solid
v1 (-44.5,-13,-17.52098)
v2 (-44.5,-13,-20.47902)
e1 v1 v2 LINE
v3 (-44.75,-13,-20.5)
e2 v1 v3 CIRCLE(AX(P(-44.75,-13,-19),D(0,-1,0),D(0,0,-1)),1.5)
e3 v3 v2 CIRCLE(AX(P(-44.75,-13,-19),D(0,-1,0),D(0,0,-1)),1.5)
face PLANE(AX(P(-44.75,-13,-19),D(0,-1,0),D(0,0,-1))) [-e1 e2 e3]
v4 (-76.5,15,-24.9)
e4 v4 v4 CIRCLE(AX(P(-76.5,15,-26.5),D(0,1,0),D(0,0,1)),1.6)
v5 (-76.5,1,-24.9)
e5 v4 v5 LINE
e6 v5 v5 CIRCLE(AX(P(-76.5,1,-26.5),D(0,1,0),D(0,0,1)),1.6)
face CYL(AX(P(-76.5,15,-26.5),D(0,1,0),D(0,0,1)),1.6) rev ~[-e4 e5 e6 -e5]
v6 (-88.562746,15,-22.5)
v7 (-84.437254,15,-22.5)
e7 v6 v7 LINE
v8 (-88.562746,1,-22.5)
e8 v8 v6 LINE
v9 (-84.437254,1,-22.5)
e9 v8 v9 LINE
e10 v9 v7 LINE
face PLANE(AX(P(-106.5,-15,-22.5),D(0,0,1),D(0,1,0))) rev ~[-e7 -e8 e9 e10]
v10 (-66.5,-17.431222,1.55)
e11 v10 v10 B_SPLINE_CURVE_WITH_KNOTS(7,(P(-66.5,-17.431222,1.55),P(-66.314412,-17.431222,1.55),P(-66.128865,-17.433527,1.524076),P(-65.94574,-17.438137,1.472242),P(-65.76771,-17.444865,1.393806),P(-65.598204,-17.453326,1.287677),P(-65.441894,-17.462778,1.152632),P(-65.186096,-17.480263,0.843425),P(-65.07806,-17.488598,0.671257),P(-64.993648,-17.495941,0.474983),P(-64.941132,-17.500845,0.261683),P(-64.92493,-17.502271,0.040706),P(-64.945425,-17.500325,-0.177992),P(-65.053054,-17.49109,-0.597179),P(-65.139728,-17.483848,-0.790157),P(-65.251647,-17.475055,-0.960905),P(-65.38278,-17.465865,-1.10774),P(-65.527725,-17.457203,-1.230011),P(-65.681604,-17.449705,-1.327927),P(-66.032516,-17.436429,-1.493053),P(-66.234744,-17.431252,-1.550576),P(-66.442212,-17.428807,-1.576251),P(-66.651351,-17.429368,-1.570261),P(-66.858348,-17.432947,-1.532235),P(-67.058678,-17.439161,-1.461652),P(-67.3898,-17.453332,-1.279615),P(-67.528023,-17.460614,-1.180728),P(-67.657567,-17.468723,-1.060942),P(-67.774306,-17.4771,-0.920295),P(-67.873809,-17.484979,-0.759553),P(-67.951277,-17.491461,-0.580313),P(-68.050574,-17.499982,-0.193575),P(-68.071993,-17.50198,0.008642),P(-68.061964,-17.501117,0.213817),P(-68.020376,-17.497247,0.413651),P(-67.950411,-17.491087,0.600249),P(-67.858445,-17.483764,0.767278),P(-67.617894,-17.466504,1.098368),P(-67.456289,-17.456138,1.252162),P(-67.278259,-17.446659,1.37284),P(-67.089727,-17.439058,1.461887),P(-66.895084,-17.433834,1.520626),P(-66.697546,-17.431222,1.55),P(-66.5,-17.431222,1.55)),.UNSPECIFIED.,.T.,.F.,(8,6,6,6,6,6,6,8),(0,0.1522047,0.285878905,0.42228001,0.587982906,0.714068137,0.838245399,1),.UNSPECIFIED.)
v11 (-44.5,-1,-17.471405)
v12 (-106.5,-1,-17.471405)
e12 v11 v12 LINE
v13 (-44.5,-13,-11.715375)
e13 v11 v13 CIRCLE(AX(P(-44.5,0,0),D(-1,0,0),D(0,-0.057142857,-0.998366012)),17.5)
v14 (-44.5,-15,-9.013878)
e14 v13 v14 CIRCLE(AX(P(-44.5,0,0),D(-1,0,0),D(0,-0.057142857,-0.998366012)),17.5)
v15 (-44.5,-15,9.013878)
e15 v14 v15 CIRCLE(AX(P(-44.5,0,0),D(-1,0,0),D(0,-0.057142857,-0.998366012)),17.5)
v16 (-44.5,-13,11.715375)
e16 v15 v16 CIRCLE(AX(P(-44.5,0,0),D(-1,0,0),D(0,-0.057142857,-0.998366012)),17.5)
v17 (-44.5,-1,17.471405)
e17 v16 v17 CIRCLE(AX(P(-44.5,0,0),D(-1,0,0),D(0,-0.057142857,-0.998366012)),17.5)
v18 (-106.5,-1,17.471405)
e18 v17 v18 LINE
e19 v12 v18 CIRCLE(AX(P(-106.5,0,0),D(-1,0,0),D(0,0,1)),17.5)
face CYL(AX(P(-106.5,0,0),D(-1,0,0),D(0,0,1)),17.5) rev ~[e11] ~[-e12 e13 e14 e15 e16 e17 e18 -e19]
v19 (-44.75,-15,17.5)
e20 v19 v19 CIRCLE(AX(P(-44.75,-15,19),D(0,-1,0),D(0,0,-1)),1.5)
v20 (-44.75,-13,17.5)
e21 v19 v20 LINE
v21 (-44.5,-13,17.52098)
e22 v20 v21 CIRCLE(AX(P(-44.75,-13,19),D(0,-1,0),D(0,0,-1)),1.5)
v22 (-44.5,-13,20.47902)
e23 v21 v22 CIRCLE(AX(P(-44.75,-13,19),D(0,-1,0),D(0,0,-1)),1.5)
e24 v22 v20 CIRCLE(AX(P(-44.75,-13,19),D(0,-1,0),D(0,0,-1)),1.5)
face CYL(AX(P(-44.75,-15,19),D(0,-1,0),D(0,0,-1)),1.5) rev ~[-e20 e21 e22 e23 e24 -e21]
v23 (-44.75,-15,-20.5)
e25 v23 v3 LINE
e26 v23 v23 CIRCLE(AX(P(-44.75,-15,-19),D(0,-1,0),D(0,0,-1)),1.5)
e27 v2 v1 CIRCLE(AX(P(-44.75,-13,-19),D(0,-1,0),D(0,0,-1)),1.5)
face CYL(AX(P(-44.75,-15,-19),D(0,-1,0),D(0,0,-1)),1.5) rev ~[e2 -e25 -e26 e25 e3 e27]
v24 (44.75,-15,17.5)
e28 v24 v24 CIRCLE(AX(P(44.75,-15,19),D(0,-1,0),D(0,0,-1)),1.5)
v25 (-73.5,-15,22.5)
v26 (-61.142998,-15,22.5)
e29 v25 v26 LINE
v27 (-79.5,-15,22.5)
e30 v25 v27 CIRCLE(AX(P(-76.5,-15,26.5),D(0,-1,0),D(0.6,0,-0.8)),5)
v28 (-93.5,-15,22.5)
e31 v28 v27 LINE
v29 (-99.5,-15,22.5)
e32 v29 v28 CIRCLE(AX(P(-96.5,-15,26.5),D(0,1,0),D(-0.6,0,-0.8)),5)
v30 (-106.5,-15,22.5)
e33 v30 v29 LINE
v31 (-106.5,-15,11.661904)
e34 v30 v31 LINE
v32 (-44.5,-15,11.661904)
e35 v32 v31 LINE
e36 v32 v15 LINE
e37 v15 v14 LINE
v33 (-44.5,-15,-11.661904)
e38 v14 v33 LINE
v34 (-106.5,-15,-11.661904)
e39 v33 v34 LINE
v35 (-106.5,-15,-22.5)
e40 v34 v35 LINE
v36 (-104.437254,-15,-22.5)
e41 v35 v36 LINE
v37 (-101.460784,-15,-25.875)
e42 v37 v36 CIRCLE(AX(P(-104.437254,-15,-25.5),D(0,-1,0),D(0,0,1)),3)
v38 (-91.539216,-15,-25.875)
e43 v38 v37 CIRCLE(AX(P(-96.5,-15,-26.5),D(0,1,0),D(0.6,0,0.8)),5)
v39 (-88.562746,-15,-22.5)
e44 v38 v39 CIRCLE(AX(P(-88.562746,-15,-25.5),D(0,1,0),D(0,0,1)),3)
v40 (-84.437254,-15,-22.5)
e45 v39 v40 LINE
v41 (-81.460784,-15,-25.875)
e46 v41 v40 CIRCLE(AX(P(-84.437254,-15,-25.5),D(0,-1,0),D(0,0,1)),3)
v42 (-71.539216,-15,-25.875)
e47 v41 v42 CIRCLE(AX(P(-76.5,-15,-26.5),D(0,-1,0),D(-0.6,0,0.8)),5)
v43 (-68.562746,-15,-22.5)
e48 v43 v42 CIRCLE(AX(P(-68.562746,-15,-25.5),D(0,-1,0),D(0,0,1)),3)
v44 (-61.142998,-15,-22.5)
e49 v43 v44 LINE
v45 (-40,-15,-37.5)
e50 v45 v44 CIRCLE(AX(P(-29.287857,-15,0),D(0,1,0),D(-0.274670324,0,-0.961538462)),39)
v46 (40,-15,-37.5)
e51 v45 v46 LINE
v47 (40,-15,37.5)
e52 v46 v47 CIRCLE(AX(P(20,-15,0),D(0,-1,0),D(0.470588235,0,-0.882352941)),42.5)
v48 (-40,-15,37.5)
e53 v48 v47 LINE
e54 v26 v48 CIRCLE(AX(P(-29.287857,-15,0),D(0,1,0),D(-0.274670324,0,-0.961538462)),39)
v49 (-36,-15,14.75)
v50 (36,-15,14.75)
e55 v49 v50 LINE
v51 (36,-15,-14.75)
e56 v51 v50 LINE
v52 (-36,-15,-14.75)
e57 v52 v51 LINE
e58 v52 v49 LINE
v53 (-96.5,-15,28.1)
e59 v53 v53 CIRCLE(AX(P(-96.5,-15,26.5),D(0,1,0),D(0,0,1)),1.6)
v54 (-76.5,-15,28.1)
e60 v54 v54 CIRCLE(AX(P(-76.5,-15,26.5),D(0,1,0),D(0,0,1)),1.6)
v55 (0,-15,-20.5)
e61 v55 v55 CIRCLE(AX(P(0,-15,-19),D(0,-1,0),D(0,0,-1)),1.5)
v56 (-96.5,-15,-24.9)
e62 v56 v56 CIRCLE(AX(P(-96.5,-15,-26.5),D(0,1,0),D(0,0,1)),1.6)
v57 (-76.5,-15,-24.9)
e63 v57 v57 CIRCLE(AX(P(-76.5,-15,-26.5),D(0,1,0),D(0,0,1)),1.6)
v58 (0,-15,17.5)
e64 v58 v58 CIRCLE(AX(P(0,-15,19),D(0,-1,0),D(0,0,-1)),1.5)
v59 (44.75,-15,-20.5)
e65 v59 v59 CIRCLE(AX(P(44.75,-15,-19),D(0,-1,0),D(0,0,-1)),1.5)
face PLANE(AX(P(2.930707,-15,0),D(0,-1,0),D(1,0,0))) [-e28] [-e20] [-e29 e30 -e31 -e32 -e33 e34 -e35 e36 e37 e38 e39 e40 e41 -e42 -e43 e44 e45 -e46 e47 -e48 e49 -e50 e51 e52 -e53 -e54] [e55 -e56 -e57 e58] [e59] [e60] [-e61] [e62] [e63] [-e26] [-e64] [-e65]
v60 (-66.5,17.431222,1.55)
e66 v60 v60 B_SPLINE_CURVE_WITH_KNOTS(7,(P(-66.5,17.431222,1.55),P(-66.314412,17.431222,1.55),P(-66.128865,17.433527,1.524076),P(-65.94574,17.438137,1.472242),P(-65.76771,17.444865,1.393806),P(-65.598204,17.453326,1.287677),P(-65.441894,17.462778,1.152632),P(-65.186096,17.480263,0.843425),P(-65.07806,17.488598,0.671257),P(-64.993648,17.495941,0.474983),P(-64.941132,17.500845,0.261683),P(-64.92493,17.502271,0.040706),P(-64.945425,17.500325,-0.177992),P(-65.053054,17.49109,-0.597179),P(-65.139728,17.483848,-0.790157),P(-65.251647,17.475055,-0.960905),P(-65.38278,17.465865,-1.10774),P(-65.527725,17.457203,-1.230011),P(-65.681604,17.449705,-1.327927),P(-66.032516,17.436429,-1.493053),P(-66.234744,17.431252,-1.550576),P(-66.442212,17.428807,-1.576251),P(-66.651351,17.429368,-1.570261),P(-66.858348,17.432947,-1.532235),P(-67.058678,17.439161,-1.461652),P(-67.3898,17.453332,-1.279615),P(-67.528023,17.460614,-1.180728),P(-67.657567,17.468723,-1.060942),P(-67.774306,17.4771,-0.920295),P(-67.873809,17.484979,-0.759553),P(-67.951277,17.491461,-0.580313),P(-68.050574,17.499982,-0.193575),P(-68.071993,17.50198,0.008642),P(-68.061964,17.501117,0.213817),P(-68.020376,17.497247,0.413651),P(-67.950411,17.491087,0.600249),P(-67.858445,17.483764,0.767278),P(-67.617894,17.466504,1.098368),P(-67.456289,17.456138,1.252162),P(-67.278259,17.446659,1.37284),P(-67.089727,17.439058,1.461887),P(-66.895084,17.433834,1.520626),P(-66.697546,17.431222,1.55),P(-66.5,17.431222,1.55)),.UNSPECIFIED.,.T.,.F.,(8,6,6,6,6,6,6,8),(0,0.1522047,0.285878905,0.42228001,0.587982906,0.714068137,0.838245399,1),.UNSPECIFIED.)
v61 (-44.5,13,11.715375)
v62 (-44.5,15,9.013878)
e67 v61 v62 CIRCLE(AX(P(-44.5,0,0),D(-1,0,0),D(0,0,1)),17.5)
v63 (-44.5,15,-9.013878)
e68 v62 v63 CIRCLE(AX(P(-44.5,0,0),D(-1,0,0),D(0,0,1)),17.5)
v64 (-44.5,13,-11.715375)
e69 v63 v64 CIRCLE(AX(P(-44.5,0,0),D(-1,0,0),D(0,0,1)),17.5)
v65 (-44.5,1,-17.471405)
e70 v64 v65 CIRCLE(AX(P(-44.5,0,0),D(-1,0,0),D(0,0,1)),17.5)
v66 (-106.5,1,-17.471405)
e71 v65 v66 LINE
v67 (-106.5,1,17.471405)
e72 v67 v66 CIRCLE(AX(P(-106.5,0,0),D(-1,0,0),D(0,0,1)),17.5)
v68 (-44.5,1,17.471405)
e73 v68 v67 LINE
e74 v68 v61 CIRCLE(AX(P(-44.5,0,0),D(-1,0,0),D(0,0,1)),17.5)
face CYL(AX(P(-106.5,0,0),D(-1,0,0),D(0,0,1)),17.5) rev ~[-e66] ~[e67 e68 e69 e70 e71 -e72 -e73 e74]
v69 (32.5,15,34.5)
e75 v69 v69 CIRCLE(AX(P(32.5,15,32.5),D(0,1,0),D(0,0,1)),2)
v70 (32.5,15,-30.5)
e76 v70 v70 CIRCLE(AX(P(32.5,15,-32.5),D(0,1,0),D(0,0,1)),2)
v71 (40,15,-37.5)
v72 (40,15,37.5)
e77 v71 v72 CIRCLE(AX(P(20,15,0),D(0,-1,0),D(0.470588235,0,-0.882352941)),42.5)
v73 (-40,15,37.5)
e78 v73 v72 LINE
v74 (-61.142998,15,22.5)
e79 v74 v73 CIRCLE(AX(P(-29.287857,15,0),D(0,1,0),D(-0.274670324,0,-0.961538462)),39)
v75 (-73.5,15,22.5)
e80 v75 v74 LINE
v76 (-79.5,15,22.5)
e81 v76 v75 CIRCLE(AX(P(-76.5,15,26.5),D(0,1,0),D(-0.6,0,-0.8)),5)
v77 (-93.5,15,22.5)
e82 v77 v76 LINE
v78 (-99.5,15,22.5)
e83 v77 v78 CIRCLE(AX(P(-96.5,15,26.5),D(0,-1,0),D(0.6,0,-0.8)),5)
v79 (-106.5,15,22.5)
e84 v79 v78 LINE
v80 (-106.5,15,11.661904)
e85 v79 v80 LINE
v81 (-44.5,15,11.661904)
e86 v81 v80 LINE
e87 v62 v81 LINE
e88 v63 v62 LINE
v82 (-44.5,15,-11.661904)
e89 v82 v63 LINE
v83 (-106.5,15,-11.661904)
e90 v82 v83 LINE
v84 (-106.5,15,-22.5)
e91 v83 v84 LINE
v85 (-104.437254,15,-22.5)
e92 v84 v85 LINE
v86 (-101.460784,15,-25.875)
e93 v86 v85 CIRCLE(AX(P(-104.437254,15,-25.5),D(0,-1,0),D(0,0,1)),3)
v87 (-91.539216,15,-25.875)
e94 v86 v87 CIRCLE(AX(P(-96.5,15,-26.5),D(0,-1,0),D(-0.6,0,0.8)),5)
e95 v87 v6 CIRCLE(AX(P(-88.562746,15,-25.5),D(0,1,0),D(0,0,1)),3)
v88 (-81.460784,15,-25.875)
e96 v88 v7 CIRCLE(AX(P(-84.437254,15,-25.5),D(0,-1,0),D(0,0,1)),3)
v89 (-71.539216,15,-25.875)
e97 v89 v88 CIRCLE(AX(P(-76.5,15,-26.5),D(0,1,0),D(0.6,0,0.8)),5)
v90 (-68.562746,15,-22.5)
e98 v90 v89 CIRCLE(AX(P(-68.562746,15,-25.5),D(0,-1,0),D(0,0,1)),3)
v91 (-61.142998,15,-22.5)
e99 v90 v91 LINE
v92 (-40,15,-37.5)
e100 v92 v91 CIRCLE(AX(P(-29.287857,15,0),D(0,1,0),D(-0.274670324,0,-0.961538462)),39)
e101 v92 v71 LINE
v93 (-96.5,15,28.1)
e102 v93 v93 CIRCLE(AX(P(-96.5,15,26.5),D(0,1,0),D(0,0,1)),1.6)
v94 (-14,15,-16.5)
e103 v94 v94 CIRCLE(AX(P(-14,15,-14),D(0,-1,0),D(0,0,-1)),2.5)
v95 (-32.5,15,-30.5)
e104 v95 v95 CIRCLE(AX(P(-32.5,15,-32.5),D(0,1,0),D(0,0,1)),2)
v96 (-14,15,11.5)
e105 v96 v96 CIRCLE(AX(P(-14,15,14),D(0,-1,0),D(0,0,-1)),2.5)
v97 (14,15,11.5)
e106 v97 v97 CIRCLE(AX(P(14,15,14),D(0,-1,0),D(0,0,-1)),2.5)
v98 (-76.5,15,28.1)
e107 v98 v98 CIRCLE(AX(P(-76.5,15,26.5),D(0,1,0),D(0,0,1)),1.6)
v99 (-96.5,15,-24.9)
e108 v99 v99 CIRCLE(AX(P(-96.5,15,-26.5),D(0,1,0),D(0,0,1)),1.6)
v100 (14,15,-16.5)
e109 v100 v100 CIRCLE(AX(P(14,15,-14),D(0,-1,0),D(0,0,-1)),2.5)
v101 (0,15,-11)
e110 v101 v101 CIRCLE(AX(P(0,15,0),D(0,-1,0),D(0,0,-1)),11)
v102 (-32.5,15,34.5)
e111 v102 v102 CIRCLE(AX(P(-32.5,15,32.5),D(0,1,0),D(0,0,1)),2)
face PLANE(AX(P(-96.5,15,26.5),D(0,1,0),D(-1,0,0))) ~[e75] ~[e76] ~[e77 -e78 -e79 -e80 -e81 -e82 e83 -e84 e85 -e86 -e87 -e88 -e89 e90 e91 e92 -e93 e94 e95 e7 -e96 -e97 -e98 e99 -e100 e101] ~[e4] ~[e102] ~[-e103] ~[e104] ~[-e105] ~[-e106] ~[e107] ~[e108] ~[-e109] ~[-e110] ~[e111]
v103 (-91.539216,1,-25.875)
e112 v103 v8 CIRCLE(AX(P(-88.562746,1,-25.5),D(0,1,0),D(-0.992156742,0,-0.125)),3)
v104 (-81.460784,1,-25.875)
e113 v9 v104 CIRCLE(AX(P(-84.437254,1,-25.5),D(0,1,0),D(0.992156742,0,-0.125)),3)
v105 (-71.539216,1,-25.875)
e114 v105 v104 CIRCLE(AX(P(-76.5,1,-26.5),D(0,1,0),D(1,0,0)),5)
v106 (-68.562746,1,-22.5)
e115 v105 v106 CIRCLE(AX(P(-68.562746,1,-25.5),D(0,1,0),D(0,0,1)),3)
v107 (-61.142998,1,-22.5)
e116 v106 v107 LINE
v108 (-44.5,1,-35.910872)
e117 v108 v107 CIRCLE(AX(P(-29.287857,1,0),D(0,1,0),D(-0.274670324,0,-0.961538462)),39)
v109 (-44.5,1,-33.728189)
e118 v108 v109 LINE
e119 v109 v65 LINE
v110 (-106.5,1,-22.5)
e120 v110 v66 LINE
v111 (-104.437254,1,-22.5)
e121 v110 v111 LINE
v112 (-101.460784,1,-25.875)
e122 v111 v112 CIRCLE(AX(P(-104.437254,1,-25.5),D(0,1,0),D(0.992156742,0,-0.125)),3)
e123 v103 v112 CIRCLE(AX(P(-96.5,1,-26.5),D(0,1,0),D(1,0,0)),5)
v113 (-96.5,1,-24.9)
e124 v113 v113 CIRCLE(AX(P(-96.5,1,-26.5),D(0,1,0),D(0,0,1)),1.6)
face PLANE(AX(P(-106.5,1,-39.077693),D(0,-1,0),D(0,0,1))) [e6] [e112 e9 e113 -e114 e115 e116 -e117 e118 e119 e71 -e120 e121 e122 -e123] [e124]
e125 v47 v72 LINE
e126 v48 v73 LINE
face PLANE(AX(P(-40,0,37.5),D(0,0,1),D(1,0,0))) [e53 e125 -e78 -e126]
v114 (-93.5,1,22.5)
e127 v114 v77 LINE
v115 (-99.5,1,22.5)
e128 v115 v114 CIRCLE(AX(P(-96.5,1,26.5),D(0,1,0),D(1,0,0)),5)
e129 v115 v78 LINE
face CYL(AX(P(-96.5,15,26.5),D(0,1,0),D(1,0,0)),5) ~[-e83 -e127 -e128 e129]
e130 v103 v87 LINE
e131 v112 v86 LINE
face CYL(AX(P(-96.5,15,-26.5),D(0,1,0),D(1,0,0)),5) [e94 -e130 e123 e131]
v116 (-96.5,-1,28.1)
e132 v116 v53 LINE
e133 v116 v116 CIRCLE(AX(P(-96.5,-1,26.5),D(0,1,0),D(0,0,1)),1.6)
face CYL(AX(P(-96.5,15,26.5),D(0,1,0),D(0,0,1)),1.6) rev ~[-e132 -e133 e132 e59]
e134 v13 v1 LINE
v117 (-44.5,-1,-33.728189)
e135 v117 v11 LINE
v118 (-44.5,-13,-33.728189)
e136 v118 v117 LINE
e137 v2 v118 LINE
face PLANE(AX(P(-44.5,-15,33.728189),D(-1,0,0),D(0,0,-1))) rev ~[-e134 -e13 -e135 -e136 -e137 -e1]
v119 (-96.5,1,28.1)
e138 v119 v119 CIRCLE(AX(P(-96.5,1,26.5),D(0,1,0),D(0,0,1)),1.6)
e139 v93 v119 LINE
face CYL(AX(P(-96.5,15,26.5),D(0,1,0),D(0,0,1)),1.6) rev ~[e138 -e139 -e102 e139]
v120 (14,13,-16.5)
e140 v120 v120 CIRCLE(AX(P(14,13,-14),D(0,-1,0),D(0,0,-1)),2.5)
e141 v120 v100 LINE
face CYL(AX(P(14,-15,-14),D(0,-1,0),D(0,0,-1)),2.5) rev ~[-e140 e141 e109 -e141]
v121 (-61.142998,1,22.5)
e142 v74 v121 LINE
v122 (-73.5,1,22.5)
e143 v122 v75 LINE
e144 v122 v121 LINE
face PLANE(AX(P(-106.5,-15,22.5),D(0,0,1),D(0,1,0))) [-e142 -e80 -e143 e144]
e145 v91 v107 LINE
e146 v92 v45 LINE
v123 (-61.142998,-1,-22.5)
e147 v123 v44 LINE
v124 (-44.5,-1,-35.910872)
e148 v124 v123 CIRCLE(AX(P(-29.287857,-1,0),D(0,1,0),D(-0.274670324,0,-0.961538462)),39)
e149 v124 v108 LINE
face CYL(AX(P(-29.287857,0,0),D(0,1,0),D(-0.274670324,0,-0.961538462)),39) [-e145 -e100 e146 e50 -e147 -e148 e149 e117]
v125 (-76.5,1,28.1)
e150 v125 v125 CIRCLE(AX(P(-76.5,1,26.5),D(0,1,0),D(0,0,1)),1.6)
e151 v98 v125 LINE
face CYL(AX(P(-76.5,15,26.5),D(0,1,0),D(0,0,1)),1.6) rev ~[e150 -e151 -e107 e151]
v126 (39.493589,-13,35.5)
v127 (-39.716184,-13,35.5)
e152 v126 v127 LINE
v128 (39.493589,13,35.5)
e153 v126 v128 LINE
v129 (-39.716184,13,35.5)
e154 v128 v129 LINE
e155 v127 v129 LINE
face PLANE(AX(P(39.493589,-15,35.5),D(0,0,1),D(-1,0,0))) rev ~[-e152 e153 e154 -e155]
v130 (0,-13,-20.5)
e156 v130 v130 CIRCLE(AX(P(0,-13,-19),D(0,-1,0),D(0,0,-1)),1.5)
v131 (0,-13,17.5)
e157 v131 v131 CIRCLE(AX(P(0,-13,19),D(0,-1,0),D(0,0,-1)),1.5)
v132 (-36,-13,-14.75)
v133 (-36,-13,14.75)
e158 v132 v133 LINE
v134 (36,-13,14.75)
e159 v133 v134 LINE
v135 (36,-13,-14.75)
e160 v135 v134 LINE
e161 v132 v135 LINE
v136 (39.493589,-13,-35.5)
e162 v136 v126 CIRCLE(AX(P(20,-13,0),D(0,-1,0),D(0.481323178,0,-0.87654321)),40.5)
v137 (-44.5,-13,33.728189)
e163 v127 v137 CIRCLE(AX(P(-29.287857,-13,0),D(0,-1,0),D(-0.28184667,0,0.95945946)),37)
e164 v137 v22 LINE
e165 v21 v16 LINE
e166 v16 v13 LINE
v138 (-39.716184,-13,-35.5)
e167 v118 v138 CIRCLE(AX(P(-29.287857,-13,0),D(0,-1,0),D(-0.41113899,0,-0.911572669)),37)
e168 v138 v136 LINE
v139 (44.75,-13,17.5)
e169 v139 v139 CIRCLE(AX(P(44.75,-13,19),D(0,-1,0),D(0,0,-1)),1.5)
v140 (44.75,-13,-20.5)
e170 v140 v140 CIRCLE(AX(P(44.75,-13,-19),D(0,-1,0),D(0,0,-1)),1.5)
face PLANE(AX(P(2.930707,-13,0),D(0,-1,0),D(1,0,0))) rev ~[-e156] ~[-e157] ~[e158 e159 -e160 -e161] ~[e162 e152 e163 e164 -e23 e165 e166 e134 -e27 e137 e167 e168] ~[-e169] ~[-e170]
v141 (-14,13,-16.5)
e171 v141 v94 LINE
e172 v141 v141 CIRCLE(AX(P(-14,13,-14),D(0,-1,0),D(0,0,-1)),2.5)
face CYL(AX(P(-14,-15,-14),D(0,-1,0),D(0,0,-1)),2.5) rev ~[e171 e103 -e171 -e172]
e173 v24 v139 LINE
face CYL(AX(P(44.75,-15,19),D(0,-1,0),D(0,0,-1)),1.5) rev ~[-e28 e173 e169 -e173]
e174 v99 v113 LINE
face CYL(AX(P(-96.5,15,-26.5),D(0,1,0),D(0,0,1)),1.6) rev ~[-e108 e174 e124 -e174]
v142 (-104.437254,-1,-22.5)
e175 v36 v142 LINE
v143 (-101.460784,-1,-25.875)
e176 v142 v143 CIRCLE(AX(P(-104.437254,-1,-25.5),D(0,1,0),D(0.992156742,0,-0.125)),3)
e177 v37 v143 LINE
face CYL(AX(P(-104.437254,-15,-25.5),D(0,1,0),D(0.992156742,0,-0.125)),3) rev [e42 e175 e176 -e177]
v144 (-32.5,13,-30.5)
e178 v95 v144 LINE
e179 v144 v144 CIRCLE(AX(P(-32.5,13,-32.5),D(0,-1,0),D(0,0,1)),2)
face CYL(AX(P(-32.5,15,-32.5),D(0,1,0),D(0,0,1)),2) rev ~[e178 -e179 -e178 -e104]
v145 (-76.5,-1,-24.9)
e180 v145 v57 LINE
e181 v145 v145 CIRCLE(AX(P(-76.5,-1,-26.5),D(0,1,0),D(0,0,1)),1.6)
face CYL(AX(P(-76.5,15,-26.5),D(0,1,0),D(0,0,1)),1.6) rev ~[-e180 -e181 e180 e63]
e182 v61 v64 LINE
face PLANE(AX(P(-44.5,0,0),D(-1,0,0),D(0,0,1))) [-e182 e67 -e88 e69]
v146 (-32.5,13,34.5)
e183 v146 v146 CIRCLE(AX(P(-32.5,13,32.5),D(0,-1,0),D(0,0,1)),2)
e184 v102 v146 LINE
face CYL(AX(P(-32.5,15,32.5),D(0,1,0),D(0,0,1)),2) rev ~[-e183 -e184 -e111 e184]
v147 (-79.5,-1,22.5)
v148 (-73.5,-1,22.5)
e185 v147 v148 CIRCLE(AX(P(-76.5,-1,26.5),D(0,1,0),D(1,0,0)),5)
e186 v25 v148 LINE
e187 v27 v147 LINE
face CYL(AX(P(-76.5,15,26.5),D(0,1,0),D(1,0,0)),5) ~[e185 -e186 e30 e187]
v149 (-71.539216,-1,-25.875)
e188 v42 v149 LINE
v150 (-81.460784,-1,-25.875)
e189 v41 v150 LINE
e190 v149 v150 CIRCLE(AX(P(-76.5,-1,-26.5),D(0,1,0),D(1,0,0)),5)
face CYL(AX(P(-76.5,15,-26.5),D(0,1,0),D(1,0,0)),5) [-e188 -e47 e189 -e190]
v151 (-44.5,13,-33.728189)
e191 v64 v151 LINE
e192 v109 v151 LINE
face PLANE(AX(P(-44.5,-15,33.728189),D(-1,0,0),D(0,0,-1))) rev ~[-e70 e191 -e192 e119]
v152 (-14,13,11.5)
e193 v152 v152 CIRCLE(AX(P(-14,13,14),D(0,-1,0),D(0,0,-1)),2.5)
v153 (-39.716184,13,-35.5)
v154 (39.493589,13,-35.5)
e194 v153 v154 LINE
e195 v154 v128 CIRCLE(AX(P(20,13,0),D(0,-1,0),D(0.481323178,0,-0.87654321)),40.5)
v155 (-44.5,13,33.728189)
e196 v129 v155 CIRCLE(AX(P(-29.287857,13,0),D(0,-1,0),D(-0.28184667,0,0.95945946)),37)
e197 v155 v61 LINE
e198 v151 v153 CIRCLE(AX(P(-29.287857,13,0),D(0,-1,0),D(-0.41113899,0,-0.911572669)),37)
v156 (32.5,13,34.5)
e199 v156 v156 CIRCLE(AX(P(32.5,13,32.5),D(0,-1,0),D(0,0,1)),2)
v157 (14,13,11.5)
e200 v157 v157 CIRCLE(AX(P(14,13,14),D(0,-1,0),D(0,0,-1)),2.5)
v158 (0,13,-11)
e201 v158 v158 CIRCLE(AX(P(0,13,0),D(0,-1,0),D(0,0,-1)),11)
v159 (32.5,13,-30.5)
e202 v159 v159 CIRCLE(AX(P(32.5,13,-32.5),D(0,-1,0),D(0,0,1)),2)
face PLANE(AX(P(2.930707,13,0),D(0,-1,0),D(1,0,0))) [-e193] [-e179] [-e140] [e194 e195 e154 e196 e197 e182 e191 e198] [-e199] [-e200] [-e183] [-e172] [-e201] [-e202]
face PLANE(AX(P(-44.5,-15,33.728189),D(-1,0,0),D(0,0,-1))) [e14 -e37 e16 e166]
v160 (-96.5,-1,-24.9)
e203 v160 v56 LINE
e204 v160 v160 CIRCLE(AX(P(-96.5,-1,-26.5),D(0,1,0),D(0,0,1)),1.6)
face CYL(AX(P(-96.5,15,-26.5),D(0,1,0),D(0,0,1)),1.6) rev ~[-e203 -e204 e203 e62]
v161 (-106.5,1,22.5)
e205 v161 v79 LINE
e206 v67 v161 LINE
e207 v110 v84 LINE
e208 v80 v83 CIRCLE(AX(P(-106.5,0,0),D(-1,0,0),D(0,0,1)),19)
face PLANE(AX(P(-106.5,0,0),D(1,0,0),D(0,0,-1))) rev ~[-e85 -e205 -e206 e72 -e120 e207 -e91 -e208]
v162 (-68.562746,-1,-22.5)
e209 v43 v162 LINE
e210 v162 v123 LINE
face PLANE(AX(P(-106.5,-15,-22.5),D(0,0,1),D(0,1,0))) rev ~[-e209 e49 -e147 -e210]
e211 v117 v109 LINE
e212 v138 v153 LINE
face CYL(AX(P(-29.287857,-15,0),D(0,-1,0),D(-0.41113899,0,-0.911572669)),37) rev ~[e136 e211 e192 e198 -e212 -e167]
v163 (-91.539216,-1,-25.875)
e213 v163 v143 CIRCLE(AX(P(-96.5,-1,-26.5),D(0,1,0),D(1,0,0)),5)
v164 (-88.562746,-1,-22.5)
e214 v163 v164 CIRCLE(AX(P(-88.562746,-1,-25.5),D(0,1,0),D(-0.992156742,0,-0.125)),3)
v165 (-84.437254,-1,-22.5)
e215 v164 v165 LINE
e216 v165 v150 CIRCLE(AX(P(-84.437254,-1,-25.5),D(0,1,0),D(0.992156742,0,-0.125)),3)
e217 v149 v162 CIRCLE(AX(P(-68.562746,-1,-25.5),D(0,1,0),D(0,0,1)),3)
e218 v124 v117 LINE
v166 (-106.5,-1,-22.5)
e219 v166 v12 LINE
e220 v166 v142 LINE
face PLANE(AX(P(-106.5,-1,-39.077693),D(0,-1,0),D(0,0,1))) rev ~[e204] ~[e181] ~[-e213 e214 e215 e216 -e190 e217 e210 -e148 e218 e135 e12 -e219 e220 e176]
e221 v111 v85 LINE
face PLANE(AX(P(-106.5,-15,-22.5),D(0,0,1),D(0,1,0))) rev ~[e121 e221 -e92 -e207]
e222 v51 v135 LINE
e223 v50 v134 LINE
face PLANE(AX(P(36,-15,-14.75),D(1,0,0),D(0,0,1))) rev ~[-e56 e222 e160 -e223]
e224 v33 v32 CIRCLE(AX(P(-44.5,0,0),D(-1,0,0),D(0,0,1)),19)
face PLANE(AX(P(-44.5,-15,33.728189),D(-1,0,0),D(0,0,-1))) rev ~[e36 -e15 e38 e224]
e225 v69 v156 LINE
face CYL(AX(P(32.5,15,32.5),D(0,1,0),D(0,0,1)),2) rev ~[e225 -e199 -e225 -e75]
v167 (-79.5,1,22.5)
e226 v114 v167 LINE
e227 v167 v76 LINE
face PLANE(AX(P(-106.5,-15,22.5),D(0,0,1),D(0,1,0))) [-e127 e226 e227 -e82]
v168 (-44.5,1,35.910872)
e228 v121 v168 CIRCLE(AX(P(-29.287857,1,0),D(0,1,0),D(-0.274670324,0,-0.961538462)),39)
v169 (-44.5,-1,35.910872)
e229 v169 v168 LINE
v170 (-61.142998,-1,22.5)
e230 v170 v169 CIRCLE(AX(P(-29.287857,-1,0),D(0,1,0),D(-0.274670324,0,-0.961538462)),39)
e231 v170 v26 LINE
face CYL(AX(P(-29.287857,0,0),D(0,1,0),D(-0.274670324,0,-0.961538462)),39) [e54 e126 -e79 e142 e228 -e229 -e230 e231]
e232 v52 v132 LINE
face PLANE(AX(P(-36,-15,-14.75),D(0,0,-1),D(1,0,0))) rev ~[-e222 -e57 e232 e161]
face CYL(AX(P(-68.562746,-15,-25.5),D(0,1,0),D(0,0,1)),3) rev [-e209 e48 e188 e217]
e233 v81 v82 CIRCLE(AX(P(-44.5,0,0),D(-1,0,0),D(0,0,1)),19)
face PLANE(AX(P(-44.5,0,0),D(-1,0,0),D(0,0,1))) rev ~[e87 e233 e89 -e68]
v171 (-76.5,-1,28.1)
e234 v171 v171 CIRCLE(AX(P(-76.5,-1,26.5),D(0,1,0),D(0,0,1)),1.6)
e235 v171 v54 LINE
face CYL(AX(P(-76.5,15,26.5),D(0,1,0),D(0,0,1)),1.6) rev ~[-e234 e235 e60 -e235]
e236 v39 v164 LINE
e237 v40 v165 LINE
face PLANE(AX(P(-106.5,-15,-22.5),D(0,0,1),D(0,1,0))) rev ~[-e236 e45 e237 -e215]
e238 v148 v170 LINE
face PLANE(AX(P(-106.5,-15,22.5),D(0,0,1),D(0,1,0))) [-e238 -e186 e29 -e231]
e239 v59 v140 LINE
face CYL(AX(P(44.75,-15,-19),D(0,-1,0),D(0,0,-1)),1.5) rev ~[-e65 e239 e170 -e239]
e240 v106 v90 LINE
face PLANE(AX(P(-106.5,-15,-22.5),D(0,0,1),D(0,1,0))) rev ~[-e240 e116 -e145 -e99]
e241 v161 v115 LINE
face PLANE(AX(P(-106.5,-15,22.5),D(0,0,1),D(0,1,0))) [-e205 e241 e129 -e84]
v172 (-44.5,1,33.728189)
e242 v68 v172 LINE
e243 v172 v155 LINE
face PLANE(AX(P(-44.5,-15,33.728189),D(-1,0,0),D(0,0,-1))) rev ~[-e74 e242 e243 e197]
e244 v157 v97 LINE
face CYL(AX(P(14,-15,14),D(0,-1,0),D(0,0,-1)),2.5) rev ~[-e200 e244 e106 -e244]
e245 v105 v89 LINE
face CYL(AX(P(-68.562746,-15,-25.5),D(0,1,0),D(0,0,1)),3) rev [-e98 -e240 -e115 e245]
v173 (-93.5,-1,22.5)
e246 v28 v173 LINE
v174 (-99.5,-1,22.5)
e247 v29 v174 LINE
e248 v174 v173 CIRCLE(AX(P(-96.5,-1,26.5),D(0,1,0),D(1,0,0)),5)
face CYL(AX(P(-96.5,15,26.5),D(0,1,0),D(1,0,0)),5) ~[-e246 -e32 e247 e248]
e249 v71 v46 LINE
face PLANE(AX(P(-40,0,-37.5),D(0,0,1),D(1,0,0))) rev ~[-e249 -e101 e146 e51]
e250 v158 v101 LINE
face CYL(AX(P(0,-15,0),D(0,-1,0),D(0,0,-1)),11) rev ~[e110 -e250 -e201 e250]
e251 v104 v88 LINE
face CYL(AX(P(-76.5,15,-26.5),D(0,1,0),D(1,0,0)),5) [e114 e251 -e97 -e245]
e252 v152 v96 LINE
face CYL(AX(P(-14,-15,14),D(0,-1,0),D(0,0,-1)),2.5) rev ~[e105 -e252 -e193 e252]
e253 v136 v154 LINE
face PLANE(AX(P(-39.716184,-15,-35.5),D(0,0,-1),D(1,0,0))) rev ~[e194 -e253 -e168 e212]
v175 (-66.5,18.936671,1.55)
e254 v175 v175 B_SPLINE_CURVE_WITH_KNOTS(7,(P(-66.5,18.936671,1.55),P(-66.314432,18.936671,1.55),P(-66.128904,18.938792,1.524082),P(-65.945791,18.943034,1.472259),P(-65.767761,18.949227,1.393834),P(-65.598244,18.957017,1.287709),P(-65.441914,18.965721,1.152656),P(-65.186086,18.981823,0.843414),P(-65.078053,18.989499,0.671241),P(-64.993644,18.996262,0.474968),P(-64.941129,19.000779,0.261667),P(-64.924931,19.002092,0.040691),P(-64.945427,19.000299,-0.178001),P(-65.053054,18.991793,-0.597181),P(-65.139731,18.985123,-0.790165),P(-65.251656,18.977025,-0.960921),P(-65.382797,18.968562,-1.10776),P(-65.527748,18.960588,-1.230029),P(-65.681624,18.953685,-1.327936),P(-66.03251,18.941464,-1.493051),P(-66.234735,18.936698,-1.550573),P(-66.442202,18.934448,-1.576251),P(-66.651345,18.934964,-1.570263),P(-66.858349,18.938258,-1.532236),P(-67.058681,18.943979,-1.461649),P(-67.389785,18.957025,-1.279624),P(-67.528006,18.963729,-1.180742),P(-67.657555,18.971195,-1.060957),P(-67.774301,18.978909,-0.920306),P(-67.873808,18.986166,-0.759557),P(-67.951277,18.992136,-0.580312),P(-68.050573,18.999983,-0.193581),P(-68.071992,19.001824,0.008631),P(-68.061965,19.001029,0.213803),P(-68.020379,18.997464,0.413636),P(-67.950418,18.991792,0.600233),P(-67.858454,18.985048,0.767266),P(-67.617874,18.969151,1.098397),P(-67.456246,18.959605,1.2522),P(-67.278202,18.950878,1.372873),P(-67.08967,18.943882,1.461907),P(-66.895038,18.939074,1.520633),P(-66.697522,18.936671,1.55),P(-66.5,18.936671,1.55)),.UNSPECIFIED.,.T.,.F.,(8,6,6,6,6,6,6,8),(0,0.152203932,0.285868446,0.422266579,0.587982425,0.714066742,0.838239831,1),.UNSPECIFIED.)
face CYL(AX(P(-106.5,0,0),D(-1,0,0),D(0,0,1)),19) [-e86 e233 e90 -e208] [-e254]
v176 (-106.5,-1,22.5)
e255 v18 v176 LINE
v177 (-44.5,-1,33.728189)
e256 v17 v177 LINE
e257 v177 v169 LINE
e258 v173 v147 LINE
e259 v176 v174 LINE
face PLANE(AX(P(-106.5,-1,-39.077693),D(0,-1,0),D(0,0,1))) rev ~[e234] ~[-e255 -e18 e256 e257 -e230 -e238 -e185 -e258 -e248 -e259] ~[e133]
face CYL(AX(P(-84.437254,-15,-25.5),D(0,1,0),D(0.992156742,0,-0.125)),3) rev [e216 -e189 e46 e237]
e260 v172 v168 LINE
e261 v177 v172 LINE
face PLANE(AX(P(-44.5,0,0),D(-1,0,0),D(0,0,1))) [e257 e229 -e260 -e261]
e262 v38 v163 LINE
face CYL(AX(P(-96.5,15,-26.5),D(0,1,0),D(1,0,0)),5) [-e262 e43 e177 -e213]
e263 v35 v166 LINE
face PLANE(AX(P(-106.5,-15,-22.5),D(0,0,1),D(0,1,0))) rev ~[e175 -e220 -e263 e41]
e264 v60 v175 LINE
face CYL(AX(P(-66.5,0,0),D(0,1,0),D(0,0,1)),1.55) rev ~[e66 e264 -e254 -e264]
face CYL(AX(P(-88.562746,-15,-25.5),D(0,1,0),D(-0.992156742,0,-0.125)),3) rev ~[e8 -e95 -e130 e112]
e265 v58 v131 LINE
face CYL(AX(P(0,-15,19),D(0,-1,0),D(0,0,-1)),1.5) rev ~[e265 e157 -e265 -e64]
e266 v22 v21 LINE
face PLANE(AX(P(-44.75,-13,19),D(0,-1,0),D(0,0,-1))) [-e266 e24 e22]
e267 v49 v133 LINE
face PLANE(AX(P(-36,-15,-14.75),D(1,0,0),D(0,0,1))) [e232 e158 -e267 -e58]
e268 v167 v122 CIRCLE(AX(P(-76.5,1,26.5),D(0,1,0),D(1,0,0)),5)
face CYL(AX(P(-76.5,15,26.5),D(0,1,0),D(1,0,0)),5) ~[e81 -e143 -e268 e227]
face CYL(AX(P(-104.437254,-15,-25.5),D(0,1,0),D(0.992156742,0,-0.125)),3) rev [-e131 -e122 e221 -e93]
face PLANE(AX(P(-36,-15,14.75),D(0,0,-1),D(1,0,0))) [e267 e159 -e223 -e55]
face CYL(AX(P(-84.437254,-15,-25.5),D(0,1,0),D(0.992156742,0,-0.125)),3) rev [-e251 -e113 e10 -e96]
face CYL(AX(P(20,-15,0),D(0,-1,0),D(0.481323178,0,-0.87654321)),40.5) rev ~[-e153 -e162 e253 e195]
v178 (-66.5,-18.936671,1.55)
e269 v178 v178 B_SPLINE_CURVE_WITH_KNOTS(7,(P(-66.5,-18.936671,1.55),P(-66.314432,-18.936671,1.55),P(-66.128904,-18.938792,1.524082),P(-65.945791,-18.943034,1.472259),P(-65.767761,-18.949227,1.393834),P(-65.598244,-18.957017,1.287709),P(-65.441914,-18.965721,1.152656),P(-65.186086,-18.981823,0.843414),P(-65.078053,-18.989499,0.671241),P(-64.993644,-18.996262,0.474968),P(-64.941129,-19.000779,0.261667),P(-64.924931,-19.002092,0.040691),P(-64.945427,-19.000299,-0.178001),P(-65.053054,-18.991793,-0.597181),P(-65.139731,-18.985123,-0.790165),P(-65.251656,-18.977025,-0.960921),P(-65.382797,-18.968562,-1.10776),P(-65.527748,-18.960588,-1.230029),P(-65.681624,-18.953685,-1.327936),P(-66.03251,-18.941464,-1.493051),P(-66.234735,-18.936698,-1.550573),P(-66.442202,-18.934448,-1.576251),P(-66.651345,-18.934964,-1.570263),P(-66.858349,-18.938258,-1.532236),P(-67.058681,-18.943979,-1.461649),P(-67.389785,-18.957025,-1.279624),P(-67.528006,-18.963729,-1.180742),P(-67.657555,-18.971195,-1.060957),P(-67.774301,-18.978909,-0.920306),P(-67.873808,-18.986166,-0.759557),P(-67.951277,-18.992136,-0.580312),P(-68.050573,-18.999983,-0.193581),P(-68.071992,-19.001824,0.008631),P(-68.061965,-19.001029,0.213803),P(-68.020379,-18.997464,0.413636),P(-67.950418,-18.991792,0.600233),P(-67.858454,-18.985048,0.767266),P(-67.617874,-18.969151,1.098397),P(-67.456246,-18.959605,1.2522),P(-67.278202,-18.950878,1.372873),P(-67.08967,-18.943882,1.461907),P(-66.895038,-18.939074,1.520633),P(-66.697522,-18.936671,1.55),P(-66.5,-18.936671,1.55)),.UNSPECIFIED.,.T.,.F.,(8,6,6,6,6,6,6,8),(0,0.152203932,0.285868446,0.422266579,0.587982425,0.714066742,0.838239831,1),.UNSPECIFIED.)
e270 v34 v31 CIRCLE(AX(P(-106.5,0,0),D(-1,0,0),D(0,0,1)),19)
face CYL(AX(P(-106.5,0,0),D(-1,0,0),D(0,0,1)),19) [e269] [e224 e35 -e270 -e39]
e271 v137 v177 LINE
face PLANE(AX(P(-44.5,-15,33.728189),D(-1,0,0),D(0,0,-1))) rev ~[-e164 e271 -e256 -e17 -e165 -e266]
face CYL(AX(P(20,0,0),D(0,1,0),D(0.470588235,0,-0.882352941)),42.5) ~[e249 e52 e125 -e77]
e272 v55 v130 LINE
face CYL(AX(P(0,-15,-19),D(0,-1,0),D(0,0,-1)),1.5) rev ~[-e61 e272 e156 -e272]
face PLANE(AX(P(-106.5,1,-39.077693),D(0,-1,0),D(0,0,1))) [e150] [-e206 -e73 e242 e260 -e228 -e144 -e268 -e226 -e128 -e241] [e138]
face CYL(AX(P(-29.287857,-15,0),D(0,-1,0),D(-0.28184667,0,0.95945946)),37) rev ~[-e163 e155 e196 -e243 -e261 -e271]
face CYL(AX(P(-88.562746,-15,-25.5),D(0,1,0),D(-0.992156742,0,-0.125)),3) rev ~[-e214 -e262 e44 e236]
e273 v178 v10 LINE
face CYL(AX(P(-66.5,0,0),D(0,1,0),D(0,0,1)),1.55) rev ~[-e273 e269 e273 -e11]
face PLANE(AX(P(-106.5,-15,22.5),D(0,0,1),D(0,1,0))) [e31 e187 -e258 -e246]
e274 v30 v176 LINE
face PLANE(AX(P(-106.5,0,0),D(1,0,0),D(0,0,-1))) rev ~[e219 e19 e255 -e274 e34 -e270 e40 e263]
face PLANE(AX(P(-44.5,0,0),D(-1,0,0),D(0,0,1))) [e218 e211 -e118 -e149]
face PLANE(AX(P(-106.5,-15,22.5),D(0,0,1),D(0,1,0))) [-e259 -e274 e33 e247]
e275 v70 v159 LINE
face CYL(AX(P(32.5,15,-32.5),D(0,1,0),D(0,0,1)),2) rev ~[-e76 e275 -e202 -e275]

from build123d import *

# Parameters (mm, degrees)
SKETCH_1_W           = 80
SKETCH_1_H           = 75
EXTRUDE_1_DEPTH      = 15
EXTRUDE_2_REACH      = 175.759
EXTRUDE_2_END_RADIUS = 39
SKETCH_2_W           = 45
SKETCH_2_H           = 30
SKETCH_3_R           = 19
EXTRUDE_3_DEPTH      = 62
SKETCH_4_R           = 17.5
CUT_EXTRUDE_1_DEPTH  = 62
SKETCH_6_R           = 5
EXTRUDE_4_DEPTH      = 30
FILLET_1_R           = 3
SKETCH_7_R           = 1.6
CUT_EXTRUDE_3_DEPTH  = 62
SKETCH_5_W           = 78.155385632
SKETCH_5_H           = 2
CUT_EXTRUDE_4_DEPTH  = 62
SKETCH_8_R           = 11
CUT_EXTRUDE_5_DEPTH  = 62
SKETCH_9_R           = 2.5
CUT_EXTRUDE_6_DEPTH  = 118.917343932
SKETCH_10_R          = 2
CUT_EXTRUDE_7_DEPTH  = 118.917343932
SKETCH_11_R          = 2
SKETCH_11_R_2        = 2.5
SKETCH_11_R_3        = 11
CUT_EXTRUDE_8_DEPTH  = 28
SKETCH_12_W          = 72
SKETCH_12_H          = 29.5
EXTRUDE_6_DEPTH      = 2
SKETCH_13_R          = 1.5
CUT_EXTRUDE_9_DEPTH  = 2
SKETCH_14_R          = 1.55
CUT_EXTRUDE_10_DEPTH = 250


with BuildPart() as part:
    # 草图1 → 凸台-拉伸1 (new, symmetric)
    with BuildSketch(Plane(origin=(0, 0, 0), x_dir=(1, 0, 0), z_dir=(0, 1, 0))):
        with BuildLine():
            Line((-40, -37.5), (-40, 37.5))
            ThreePointArc((-40, 37.5), (-68.287857357, 0), (-40, -37.5))
        make_face()
        Rectangle(SKETCH_1_W, SKETCH_1_H)
        with BuildLine():
            Line((40, -37.5), (40, 37.5))
            ThreePointArc((40, 37.5), (62.5, 0), (40, -37.5))
        make_face()
    extrude(amount=EXTRUDE_1_DEPTH, both=True)

    # 凸台-拉伸2: up to this cylinder (the profile starts outside it)
    extrude_2_end = Plane(origin=(-29.287857357, 0, 0), z_dir=(0, -1, 0)) * Cylinder(EXTRUDE_2_END_RADIUS, 430.518, mode=Mode.PRIVATE)
    # 草图2 → 凸台-拉伸2 (add, up to the surface)
    with BuildSketch(Plane(origin=(-106.5, 0, 0), x_dir=(0, 0, -1), z_dir=(1, 0, 0)), mode=Mode.PRIVATE) as extrude_2_sk1:
        Rectangle(SKETCH_2_W, SKETCH_2_H)
    extrude_2_tool1 = extrude(extrude_2_sk1.sketch, amount=EXTRUDE_2_REACH, mode=Mode.PRIVATE) - extrude_2_end
    add(extrude_2_tool1.solids().sort_by_distance((-106.5, 0, 0))[0])

    # 草图3 → 凸台-拉伸3 (add)
    with BuildSketch(Plane.ZY.offset(106.5)):
        Circle(SKETCH_3_R)
    extrude(amount=-EXTRUDE_3_DEPTH)

    # 草图4 → 切除-拉伸1 (cut)
    with BuildSketch(Plane.ZY.offset(106.5)):
        Circle(SKETCH_4_R)
    extrude(amount=-CUT_EXTRUDE_1_DEPTH, mode=Mode.SUBTRACT)

    # 草图6 → 凸台-拉伸4 (add)
    with BuildSketch(Plane(origin=(0, 15, 0), x_dir=(1, 0, 0), z_dir=(0, 1, 0))):
        with Locations((-96.5, 26.5)):
            Circle(SKETCH_6_R)
        with Locations((-76.5, 26.5)):
            Circle(SKETCH_6_R)
    extrude_4 = extrude(amount=-EXTRUDE_4_DEPTH)

    # 圆角1
    fillet_1_edges = [part.edges().sort_by_distance(p)[0] for p in [
        (-99.5, 0, -22.5),
        (-93.5, 0, -22.5),
        (-73.5, 0, -22.5),
        (-79.5, 0, -22.5),
    ]]
    fillet(fillet_1_edges, radius=FILLET_1_R)

    # 镜向3: 凸台-拉伸4 across plane
    add(extrude_4.mirror(Plane.XY))

    # 草图7 → 切除-拉伸3 (cut)
    with BuildSketch(Plane(origin=(0, 15, 0), x_dir=(1, 0, 0), z_dir=(0, 1, 0))):
        with Locations(Location((-96.5, 26.5, 0), (0, 0, 270))):
            Circle(SKETCH_7_R)
        with Locations(Location((-76.5, 26.5, 0), (0, 0, 270))):
            Circle(SKETCH_7_R)
        with Locations(Location((-76.5, -26.5, 0), (0, 0, 270))):
            Circle(SKETCH_7_R)
        with Locations(Location((-96.5, -26.5, 0), (0, 0, 270))):
            Circle(SKETCH_7_R)
    extrude(amount=-CUT_EXTRUDE_3_DEPTH, mode=Mode.SUBTRACT)

    # 草图5 → 切除-拉伸4 (cut)
    with BuildSketch(Plane.ZY.offset(106.5)):
        Rectangle(SKETCH_5_W, SKETCH_5_H)
    extrude(amount=-CUT_EXTRUDE_4_DEPTH, mode=Mode.SUBTRACT)

    # 草图8 → 切除-拉伸5 (cut)
    with BuildSketch(Plane.XZ.offset(15)):
        with Locations(Location((0, 0, 0), (0, 0, 270))):
            Circle(SKETCH_8_R)
    extrude(amount=-CUT_EXTRUDE_5_DEPTH, mode=Mode.SUBTRACT)

    # 草图9 → 切除-拉伸6 (cut, through all)
    with BuildSketch(Plane.XZ.offset(15)):
        with Locations(Location((14, 14, 0), (0, 0, 270))):
            Circle(SKETCH_9_R)
        with Locations(Location((14, -14, 0), (0, 0, 270))):
            Circle(SKETCH_9_R)
        with Locations(Location((-14, -14, 0), (0, 0, 270))):
            Circle(SKETCH_9_R)
        with Locations(Location((-14, 14, 0), (0, 0, 270))):
            Circle(SKETCH_9_R)
    extrude(amount=-CUT_EXTRUDE_6_DEPTH, mode=Mode.SUBTRACT)

    # 草图10 → 切除-拉伸7 (cut, through all)
    with BuildSketch(Plane(origin=(0, 15, 0), x_dir=(1, 0, 0), z_dir=(0, 1, 0))):
        with Locations(Location((32.5, 32.5, 0), (0, 0, 270))):
            Circle(SKETCH_10_R)
        with Locations(Location((-32.5, 32.5, 0), (0, 0, 270))):
            Circle(SKETCH_10_R)
        with Locations(Location((-32.5, -32.5, 0), (0, 0, 270))):
            Circle(SKETCH_10_R)
        with Locations(Location((32.5, -32.5, 0), (0, 0, 270))):
            Circle(SKETCH_10_R)
    extrude(amount=-CUT_EXTRUDE_7_DEPTH, mode=Mode.SUBTRACT)

    # 草图11 → 切除-拉伸8 (cut)
    with BuildSketch(Plane.XZ.offset(15)):
        with BuildLine():
            Line((-44.5, 9.013878189), (-44.5, 0))
            Line((-44.5, 0), (-44.5, -9.013878189))
            Line((-44.5, -9.013878189), (-44.5, -11.66190379))
            Line((-44.5, -11.66190379), (-44.5, -33.728188748))
            ThreePointArc((-44.5, -33.728188748), (-42.138664615, -34.696638927), (-39.716184164, -35.5))
            Line((-39.716184164, -35.5), (39.49358869, -35.5))
            ThreePointArc((39.49358869, -35.5), (60.5, 0), (39.49358869, 35.5))
            Line((39.49358869, 35.5), (-39.716184164, 35.5))
            ThreePointArc((-39.716184164, 35.5), (-42.138664615, 34.696638927), (-44.5, 33.728188748))
            Line((-44.5, 33.728188748), (-44.5, 11.66190379))
            Line((-44.5, 11.66190379), (-44.5, 9.013878189))
        make_face()
        with Locations(Location((-32.5, -32.5, 0), (0, 0, 90))):
            Circle(SKETCH_11_R, mode=Mode.SUBTRACT)
        with Locations(Location((-14, -14, 0), (0, 0, 270))):
            Circle(SKETCH_11_R_2, mode=Mode.SUBTRACT)
        with Locations(Location((32.5, -32.5, 0), (0, 0, 90))):
            Circle(SKETCH_11_R, mode=Mode.SUBTRACT)
        with Locations(Location((14, -14, 0), (0, 0, 270))):
            Circle(SKETCH_11_R_2, mode=Mode.SUBTRACT)
        with Locations(Location((0, 0, 0), (0, 0, 270))):
            Circle(SKETCH_11_R_3, mode=Mode.SUBTRACT)
        with Locations(Location((-14, 14, 0), (0, 0, 270))):
            Circle(SKETCH_11_R_2, mode=Mode.SUBTRACT)
        with Locations(Location((-32.5, 32.5, 0), (0, 0, 90))):
            Circle(SKETCH_11_R, mode=Mode.SUBTRACT)
        with Locations(Location((14, 14, 0), (0, 0, 270))):
            Circle(SKETCH_11_R_2, mode=Mode.SUBTRACT)
        with Locations(Location((32.5, 32.5, 0), (0, 0, 90))):
            Circle(SKETCH_11_R, mode=Mode.SUBTRACT)
    extrude(amount=-CUT_EXTRUDE_8_DEPTH, mode=Mode.SUBTRACT)

    # 草图12 → 凸台-拉伸6 (add)
    with BuildSketch(Plane.XZ.offset(15)):
        with BuildLine():
            Line((-44.5, 11.66190379), (-44.5, -11.66190379))
            Line((-44.5, -11.66190379), (-44.5, -33.728188748))
            ThreePointArc((-44.5, -33.728188748), (-42.138664615, -34.696638927), (-39.716184164, -35.5))
            Line((-39.716184164, -35.5), (39.49358869, -35.5))
            ThreePointArc((39.49358869, -35.5), (60.5, 0), (39.49358869, 35.5))
            Line((39.49358869, 35.5), (-39.716184164, 35.5))
            ThreePointArc((-39.716184164, 35.5), (-42.138664615, 34.696638927), (-44.5, 33.728188748))
            Line((-44.5, 33.728188748), (-44.5, 11.66190379))
        make_face()
        Rectangle(SKETCH_12_W, SKETCH_12_H, mode=Mode.SUBTRACT)
    extrude(amount=-EXTRUDE_6_DEPTH)

    # 草图13 → 切除-拉伸9 (cut)
    with BuildSketch(Plane.XZ.offset(15)):
        with Locations(Location((-44.75, 19, 0), (0, 0, 270))):
            Circle(SKETCH_13_R)
        with Locations(Location((0, 19, 0), (0, 0, 270))):
            Circle(SKETCH_13_R)
        with Locations(Location((44.75, 19, 0), (0, 0, 270))):
            Circle(SKETCH_13_R)
        with Locations(Location((44.75, -19, 0), (0, 0, 270))):
            Circle(SKETCH_13_R)
        with Locations(Location((0, -19, 0), (0, 0, 270))):
            Circle(SKETCH_13_R)
        with Locations(Location((-44.75, -19, 0), (0, 0, 270))):
            Circle(SKETCH_13_R)
    extrude(amount=-CUT_EXTRUDE_9_DEPTH, mode=Mode.SUBTRACT)

    # 草图14 → 切除-拉伸10 (cut, symmetric)
    with BuildSketch(Plane(origin=(0, 0, 0), x_dir=(1, 0, 0), z_dir=(0, 1, 0))):
        with Locations(Location((-66.5, 0, 0), (0, 0, 270))):
            Circle(SKETCH_14_R)
    extrude(amount=CUT_EXTRUDE_10_DEPTH, both=True, mode=Mode.SUBTRACT)


solid = part.part
